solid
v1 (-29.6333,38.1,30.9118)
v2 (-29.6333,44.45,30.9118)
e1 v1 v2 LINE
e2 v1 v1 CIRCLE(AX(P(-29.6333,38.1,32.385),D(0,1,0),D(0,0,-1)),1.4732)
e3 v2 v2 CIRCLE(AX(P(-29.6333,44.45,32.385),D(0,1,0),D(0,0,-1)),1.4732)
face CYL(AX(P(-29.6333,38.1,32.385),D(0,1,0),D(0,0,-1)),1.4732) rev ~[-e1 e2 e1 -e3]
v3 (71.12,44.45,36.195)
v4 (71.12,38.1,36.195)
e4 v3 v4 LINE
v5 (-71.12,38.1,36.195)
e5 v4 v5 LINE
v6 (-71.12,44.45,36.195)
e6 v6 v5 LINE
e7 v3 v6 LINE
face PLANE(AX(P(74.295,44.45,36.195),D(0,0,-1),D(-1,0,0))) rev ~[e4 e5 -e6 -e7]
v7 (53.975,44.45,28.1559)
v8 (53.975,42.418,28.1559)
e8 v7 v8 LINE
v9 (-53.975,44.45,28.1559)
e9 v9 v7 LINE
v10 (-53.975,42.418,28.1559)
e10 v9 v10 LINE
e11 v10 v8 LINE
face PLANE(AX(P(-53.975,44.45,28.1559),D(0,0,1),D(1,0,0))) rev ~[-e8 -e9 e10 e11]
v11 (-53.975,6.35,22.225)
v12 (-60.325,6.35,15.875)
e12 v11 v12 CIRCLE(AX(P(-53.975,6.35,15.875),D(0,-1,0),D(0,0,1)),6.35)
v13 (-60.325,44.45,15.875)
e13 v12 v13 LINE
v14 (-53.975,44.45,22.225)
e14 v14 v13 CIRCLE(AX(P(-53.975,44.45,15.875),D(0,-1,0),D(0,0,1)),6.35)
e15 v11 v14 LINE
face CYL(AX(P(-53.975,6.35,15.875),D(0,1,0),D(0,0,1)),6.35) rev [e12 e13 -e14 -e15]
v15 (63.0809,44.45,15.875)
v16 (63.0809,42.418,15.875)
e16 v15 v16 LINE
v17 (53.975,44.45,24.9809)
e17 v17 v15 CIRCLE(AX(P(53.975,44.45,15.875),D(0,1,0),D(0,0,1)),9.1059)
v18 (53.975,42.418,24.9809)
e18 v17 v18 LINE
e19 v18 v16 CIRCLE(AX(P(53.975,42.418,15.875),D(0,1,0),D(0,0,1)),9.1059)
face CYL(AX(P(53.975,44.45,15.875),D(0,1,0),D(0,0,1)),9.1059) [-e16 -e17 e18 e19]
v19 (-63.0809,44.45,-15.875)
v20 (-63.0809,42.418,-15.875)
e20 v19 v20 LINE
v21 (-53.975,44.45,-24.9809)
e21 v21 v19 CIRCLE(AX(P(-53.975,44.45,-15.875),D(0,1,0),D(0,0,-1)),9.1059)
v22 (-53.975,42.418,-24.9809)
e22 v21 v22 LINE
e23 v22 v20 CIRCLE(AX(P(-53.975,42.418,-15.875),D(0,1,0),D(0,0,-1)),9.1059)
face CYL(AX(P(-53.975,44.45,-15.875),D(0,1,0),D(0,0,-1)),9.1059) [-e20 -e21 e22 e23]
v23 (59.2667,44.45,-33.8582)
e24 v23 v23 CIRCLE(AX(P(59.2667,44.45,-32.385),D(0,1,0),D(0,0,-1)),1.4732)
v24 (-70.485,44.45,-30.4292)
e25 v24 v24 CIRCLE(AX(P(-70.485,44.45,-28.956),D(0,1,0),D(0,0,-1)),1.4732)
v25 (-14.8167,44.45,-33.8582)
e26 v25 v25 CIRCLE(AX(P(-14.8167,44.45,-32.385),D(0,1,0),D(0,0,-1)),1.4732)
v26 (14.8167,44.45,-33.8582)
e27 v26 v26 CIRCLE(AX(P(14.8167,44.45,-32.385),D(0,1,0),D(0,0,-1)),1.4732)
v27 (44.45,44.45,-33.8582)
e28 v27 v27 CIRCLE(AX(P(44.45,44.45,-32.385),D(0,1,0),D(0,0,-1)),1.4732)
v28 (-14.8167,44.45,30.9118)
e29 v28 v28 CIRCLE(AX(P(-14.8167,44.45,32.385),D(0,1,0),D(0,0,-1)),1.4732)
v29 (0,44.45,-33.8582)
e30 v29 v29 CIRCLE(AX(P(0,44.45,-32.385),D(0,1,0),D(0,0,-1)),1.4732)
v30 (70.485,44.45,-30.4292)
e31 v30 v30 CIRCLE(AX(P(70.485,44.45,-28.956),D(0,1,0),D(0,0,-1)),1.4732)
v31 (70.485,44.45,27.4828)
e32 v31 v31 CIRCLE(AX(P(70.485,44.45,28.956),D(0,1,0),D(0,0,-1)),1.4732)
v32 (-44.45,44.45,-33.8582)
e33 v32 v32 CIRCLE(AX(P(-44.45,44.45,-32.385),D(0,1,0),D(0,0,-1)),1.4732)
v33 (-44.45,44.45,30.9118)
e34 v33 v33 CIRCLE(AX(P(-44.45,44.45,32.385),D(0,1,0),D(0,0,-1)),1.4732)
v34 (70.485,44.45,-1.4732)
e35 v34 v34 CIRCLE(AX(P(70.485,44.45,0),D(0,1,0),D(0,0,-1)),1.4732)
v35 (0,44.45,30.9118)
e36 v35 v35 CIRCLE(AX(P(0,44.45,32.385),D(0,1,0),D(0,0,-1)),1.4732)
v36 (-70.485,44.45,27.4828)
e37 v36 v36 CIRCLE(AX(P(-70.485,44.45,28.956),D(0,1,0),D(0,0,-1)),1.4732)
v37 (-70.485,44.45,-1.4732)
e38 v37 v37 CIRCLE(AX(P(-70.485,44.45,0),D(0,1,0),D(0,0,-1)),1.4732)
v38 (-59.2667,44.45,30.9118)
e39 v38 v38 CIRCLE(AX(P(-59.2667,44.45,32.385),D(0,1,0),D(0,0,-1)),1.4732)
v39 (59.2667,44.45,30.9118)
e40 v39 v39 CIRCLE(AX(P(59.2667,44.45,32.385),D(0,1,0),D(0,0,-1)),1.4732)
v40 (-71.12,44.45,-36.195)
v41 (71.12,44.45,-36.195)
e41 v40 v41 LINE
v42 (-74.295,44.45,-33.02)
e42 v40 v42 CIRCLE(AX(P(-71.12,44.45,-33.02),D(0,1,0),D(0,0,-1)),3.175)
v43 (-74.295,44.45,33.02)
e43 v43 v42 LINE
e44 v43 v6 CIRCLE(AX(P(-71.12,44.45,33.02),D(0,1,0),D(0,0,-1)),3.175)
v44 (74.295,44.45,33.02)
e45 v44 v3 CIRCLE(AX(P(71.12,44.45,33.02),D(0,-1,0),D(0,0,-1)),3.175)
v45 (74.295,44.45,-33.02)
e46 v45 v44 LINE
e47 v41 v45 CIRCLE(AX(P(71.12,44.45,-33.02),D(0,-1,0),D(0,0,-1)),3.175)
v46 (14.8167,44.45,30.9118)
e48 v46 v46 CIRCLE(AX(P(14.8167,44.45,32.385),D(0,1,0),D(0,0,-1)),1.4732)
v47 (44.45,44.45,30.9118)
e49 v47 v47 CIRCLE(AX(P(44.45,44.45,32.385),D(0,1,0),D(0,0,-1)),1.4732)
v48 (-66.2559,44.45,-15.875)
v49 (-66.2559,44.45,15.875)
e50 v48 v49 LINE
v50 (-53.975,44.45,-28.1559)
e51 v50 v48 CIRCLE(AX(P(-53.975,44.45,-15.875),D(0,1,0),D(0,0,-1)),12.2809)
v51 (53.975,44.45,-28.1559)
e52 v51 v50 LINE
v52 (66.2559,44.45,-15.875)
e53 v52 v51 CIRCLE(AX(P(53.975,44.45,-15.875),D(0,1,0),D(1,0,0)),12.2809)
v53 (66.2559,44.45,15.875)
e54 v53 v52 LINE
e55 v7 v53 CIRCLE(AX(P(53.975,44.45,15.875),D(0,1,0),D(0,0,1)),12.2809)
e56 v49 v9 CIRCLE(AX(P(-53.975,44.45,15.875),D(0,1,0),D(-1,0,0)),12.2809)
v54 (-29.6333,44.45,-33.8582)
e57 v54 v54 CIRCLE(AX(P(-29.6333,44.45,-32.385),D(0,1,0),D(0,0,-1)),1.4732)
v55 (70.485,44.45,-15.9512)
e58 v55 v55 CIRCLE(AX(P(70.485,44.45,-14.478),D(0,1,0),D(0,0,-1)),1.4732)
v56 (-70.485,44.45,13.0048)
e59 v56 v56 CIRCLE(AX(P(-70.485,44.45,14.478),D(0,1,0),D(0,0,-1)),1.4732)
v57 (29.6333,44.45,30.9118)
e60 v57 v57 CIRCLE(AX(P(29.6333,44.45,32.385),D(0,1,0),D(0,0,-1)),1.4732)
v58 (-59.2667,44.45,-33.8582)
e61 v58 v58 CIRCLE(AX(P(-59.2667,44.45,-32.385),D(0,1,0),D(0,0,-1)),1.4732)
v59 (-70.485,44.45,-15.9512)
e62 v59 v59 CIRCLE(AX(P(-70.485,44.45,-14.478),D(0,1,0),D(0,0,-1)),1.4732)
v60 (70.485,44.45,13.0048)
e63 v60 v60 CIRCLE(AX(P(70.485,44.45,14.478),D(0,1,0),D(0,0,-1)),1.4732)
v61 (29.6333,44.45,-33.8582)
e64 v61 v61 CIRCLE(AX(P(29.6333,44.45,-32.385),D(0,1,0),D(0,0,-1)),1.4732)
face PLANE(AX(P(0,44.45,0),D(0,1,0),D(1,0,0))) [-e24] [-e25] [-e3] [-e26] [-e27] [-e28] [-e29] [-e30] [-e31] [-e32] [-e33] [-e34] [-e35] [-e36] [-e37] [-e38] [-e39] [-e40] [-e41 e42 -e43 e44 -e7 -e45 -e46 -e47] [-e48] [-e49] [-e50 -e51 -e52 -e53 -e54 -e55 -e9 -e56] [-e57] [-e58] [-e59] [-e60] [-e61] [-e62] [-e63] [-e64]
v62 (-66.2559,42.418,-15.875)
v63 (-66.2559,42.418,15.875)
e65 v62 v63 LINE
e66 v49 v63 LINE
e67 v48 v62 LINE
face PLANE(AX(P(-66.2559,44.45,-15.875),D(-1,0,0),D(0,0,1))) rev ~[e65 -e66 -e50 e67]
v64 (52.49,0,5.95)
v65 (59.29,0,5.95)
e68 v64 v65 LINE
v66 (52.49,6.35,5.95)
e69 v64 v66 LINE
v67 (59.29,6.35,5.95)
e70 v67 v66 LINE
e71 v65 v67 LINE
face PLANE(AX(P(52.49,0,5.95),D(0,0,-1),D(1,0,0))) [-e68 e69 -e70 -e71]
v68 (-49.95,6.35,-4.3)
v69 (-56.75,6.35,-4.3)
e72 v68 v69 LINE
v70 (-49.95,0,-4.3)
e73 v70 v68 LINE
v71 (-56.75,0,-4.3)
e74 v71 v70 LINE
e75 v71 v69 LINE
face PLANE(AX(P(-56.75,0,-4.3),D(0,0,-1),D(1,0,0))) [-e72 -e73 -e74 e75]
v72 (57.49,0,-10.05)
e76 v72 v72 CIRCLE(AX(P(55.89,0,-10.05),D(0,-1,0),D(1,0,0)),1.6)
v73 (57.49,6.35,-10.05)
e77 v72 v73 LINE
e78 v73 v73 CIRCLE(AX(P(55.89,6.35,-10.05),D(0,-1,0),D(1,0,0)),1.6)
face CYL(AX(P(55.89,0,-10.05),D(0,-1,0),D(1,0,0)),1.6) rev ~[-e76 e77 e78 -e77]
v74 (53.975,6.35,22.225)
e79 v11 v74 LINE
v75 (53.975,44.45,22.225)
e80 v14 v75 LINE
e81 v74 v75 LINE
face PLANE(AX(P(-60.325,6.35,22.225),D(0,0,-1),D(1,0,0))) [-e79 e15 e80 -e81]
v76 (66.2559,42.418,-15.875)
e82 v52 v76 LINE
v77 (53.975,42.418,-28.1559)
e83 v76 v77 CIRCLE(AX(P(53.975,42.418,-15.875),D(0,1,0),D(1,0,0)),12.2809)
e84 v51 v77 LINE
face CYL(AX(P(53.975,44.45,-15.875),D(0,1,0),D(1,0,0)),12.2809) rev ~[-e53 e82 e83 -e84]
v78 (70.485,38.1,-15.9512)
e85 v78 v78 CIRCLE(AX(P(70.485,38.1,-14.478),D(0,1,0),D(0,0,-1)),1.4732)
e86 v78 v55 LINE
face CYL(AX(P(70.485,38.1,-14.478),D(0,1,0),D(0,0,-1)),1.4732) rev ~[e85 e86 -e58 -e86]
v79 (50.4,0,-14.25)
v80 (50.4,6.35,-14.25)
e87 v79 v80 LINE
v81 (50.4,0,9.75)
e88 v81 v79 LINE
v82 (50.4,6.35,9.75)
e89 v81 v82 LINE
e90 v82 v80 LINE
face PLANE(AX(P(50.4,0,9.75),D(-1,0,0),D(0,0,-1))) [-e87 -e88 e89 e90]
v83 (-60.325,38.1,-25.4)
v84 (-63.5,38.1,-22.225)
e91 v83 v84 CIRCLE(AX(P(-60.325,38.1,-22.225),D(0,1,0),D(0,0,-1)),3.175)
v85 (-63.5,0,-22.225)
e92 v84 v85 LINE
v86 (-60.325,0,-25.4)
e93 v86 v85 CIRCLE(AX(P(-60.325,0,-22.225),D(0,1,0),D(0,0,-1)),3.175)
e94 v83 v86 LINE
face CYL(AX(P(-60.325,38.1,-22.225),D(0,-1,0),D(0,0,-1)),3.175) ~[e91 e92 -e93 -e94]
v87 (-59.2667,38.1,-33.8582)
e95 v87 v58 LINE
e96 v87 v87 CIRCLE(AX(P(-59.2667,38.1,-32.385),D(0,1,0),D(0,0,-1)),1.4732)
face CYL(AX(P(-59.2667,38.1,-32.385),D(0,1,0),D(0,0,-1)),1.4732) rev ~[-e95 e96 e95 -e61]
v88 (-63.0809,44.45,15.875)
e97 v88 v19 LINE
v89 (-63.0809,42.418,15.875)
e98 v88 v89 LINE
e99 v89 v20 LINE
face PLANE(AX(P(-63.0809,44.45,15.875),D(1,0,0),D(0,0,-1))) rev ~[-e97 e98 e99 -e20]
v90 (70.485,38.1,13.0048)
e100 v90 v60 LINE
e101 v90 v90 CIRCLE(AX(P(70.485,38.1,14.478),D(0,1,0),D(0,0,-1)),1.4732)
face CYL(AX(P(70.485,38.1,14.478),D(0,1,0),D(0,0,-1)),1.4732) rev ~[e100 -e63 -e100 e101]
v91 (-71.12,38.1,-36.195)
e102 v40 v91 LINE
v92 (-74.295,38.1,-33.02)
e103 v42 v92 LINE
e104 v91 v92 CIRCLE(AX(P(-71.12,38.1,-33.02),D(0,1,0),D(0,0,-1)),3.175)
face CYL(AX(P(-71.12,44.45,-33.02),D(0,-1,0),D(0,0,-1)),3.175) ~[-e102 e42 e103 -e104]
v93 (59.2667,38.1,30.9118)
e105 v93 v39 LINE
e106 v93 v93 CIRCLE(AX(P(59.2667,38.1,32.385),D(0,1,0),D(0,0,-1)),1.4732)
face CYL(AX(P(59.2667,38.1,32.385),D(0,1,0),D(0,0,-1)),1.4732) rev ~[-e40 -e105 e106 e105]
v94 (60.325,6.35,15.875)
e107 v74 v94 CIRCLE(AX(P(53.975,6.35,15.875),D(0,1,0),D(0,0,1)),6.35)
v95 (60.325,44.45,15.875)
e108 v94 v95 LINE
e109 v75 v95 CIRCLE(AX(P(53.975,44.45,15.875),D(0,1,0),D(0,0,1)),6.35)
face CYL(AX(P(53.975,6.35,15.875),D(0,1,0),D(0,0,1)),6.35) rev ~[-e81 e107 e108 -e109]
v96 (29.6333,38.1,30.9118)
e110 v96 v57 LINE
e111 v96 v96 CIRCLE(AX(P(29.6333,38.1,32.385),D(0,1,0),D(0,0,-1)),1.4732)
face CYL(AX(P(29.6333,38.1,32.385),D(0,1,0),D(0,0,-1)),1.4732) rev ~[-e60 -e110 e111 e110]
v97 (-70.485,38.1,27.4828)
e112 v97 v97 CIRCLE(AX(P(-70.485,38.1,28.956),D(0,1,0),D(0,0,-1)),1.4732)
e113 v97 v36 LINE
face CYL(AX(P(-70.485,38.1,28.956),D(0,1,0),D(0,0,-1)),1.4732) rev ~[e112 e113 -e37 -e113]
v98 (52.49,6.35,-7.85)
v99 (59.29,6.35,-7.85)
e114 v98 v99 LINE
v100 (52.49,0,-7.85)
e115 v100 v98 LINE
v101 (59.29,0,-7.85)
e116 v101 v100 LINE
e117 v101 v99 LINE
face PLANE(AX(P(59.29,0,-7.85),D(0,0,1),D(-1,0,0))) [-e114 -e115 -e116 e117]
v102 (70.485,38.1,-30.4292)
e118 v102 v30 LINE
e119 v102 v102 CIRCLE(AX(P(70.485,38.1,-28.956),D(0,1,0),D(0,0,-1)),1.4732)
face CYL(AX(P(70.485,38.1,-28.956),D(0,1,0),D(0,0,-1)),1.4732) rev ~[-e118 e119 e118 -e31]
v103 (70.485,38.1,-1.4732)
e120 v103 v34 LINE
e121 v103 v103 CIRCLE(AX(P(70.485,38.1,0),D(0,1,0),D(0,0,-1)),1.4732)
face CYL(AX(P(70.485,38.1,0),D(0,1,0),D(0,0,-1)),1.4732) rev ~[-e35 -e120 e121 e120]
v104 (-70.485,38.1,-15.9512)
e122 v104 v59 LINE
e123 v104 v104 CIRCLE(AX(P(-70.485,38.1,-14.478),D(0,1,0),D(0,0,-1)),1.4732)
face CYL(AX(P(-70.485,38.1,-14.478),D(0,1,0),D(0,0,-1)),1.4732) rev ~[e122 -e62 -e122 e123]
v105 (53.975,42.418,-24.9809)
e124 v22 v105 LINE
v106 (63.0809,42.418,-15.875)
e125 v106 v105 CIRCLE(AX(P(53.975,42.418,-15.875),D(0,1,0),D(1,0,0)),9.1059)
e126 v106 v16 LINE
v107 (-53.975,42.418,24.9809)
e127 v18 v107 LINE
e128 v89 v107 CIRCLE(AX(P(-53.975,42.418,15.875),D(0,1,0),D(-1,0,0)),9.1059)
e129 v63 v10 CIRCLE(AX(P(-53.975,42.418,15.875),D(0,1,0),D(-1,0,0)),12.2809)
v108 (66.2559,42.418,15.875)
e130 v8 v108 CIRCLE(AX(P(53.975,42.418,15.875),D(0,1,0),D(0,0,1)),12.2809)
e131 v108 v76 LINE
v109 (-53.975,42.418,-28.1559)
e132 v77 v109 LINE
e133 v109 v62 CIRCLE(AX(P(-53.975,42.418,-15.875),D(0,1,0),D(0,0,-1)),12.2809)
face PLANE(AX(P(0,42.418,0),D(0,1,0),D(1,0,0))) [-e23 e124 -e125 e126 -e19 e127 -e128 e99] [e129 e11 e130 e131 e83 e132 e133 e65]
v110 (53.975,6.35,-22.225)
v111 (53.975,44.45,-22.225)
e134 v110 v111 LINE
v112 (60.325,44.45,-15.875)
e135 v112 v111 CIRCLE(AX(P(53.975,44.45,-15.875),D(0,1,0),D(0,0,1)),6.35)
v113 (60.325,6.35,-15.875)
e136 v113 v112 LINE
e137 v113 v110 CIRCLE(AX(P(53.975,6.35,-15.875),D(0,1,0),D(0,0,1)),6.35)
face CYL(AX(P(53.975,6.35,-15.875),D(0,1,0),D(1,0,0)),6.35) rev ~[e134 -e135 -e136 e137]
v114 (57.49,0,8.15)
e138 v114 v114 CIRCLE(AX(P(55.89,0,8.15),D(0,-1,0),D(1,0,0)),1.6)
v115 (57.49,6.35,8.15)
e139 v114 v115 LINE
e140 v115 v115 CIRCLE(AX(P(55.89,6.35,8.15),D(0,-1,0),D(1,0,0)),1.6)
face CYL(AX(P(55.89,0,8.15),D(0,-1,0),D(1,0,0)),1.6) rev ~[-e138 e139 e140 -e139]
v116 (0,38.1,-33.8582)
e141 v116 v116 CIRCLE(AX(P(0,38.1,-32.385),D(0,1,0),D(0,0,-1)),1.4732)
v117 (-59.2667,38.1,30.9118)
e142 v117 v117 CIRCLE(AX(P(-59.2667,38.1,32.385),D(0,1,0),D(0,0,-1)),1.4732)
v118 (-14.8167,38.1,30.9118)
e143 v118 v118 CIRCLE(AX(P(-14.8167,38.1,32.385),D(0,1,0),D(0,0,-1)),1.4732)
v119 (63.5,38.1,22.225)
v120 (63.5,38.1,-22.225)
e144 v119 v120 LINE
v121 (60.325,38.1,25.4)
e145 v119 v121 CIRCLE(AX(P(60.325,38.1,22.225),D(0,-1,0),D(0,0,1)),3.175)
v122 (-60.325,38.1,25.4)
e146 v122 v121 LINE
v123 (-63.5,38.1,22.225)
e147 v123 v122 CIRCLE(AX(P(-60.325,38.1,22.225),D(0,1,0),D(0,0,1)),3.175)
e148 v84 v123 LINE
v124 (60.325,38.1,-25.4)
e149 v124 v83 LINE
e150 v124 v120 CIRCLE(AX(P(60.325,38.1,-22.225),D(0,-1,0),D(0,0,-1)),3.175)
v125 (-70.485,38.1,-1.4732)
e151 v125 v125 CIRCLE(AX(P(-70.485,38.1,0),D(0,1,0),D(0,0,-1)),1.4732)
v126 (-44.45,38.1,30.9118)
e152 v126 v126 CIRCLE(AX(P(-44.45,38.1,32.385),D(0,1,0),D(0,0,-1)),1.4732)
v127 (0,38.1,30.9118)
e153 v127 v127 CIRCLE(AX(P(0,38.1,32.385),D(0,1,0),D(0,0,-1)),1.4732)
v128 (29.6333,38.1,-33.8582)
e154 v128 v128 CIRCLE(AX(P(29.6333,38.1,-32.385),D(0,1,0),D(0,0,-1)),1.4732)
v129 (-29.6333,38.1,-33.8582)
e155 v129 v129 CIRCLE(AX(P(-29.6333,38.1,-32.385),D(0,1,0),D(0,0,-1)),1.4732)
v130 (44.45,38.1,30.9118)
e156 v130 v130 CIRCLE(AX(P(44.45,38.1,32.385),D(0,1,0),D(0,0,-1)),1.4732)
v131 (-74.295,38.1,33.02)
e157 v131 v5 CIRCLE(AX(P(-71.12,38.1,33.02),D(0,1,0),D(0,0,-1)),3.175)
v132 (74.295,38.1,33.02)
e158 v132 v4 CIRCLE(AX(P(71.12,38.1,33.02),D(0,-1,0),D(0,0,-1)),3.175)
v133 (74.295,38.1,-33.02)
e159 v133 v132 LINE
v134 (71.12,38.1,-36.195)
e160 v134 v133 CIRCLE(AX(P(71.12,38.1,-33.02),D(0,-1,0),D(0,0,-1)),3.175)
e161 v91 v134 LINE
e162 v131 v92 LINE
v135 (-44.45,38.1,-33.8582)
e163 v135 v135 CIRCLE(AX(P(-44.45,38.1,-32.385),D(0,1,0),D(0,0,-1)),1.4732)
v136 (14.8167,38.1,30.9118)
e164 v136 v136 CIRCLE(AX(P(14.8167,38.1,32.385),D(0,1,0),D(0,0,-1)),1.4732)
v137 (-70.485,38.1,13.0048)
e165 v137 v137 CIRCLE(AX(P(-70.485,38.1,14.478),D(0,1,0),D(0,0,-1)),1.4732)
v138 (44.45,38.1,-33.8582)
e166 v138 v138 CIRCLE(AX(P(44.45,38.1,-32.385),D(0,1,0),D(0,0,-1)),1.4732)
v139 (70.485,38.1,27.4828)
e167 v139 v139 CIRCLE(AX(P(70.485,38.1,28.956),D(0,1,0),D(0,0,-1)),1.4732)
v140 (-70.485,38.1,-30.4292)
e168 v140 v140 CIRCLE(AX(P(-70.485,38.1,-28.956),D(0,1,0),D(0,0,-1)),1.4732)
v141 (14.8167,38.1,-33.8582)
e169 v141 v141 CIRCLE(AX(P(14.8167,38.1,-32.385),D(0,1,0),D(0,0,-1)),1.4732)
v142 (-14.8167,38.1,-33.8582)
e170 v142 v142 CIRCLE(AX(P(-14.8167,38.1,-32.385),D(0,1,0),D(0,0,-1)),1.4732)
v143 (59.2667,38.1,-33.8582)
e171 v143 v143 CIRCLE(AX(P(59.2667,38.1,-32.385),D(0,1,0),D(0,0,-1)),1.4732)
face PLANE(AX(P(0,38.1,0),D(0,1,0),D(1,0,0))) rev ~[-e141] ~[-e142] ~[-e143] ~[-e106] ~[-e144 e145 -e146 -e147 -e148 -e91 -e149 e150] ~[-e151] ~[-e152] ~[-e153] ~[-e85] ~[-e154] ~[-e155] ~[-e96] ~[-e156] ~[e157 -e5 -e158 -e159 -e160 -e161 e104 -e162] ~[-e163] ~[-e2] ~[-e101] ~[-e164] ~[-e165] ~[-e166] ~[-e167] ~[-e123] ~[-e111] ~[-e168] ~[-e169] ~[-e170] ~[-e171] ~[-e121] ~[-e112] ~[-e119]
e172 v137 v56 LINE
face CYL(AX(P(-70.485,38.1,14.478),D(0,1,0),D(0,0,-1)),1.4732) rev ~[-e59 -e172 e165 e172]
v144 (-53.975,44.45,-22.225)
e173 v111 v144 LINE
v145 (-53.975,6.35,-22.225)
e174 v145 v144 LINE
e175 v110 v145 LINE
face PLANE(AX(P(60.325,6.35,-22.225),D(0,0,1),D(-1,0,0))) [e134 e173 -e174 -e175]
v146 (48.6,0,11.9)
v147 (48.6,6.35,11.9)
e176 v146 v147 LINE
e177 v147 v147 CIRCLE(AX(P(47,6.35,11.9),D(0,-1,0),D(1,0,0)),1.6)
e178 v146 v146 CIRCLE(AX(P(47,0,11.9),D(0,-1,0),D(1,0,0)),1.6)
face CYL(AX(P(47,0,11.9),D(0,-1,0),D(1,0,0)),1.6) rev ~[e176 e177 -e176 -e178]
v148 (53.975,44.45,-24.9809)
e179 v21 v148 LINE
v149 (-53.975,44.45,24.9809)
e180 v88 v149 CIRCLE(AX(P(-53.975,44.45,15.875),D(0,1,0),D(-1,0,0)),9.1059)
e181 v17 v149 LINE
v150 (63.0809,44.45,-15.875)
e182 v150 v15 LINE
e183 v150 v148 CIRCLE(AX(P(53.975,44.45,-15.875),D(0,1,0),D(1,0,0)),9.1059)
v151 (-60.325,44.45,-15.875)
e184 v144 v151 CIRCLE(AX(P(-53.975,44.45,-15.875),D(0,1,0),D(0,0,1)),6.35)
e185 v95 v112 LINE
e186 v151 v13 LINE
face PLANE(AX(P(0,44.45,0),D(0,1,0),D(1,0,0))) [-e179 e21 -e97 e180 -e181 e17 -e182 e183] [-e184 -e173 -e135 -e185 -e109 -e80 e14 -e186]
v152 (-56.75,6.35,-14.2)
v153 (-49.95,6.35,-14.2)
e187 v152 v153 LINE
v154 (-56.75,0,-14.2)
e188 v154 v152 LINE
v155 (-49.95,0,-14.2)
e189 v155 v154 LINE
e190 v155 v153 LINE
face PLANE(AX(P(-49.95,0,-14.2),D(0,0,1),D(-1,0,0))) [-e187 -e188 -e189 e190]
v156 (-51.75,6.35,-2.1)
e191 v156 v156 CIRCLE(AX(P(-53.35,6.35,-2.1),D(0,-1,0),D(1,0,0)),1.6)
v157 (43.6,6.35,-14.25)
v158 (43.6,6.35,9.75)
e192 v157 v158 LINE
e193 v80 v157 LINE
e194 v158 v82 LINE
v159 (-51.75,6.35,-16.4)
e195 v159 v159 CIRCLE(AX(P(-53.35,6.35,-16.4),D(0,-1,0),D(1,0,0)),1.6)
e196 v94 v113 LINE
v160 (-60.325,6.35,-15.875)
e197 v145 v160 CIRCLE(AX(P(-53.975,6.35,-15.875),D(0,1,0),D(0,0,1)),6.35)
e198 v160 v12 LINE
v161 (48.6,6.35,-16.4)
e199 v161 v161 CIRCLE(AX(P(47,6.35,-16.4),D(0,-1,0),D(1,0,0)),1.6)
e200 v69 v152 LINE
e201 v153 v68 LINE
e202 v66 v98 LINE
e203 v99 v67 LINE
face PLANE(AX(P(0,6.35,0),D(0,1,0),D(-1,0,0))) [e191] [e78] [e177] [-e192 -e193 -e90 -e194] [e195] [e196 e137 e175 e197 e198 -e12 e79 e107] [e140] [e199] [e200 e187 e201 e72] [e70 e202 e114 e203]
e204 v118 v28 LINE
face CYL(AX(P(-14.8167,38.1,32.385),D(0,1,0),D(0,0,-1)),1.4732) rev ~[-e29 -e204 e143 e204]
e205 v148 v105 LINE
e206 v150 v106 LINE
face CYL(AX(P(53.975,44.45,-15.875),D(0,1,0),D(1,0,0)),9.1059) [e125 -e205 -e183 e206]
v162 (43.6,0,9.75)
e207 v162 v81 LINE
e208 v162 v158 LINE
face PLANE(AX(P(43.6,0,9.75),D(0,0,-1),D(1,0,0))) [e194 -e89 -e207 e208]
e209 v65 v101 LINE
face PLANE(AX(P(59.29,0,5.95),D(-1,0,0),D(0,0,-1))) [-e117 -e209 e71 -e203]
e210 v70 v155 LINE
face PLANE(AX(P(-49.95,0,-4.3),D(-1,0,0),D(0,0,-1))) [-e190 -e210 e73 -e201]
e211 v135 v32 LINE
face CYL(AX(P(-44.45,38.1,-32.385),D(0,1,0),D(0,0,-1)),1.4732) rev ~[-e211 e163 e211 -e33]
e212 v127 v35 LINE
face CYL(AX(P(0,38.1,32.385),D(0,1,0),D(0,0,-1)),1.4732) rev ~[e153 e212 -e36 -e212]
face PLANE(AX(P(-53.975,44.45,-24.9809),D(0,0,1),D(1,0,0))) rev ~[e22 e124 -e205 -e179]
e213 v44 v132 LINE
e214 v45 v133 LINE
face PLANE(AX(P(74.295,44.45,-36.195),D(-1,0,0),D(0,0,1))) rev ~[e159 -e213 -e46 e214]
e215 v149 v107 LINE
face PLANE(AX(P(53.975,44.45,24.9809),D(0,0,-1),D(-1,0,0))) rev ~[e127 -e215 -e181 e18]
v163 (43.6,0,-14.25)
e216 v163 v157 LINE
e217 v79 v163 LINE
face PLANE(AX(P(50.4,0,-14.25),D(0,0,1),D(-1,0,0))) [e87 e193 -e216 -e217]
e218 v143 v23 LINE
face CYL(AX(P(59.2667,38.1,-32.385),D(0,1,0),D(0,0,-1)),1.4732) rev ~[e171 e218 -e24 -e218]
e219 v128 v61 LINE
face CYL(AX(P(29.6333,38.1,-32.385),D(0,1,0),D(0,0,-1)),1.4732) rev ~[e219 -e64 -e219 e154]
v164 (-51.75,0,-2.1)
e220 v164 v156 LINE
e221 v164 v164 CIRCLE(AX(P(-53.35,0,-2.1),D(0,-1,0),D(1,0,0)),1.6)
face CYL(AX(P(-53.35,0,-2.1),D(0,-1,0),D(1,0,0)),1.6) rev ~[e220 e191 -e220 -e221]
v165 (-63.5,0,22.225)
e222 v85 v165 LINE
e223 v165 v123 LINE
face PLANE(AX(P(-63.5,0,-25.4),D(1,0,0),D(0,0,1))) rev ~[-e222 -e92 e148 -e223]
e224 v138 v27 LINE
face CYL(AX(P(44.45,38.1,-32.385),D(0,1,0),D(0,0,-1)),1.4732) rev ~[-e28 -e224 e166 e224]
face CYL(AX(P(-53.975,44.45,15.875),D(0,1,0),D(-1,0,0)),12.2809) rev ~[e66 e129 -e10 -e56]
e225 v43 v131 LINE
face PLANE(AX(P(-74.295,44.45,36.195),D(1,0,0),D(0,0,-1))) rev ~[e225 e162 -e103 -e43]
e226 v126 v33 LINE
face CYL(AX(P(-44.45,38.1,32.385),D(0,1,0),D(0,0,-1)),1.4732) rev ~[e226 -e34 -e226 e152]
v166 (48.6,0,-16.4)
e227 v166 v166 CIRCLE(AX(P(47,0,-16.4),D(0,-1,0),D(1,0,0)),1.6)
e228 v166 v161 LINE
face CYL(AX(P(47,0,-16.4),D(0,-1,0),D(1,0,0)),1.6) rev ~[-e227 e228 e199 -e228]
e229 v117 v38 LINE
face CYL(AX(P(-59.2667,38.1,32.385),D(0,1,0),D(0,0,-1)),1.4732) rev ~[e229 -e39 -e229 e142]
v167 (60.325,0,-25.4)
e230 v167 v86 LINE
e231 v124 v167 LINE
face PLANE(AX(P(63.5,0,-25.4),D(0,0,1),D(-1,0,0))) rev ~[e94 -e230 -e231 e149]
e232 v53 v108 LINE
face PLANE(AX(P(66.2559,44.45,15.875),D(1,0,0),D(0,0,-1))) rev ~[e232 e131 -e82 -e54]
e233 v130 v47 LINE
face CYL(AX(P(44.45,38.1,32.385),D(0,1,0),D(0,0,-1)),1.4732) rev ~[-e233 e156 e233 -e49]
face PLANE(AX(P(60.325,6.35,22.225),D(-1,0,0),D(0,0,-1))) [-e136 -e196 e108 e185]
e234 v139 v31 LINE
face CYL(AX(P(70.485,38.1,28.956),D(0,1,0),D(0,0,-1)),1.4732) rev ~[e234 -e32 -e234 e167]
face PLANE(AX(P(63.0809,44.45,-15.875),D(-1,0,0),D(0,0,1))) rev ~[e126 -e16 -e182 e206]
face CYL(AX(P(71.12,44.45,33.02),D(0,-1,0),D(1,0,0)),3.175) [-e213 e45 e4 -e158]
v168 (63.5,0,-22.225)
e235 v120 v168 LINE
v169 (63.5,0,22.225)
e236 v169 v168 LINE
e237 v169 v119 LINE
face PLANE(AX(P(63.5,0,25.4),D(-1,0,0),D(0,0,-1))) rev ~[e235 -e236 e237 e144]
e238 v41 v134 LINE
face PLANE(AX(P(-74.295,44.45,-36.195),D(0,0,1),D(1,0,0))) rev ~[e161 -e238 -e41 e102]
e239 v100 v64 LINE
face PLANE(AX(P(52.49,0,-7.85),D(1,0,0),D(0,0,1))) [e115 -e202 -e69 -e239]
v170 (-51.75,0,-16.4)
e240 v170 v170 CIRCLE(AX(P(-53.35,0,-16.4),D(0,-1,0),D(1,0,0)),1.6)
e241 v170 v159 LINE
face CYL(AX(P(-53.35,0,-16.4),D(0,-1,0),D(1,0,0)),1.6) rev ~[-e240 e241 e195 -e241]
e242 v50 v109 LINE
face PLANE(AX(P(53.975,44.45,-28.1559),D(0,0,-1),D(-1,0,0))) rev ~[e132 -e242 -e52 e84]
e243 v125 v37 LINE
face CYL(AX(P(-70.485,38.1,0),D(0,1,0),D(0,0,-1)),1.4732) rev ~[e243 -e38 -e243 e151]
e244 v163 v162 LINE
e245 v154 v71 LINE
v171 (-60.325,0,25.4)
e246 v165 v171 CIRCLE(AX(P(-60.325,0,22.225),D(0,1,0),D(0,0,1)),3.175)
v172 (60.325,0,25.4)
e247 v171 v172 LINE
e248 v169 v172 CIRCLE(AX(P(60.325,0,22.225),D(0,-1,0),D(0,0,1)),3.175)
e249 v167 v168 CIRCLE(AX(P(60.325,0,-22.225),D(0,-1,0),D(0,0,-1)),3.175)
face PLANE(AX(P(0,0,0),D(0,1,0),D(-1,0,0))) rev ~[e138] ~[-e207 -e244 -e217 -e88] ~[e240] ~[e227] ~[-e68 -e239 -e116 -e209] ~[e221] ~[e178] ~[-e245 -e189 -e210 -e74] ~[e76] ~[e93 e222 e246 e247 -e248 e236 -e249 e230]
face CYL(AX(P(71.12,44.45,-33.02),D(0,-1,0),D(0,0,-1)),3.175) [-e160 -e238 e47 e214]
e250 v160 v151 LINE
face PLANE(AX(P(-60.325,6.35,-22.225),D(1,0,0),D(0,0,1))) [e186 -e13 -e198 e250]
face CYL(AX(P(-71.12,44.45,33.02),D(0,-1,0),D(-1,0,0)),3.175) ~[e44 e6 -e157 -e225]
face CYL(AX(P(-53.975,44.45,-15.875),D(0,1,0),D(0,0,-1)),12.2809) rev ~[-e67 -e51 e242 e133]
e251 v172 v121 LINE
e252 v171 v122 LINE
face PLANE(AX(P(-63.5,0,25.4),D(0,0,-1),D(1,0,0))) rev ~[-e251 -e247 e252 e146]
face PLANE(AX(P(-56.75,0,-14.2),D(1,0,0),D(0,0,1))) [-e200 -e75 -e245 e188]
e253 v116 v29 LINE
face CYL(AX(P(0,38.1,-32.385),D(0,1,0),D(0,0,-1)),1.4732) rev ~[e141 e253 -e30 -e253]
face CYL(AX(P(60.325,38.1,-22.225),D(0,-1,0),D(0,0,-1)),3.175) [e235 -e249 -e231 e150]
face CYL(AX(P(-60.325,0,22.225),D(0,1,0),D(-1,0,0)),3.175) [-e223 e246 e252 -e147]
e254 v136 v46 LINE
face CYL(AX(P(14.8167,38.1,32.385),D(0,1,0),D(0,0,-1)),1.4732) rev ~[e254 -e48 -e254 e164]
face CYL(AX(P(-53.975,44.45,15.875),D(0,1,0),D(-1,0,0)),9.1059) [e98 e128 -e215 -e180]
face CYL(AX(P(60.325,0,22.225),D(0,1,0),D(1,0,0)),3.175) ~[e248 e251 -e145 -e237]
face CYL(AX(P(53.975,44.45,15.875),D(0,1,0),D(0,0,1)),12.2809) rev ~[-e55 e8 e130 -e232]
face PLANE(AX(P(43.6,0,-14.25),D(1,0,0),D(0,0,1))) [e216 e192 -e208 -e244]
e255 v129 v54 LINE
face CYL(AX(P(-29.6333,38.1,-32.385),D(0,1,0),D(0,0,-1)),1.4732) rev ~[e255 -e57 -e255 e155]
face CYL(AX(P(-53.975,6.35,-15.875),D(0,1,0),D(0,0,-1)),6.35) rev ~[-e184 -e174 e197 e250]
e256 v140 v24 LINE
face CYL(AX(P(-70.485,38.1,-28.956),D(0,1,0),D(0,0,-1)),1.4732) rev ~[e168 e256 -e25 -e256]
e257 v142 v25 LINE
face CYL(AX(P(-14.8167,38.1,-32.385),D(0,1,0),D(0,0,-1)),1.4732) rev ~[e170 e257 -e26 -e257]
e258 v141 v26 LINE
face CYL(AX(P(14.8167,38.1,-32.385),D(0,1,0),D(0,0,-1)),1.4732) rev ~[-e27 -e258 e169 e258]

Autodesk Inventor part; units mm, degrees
ref_plane "YZ Plane" through (0, 0, 0) normal (1, 0, 0) x (0, 1, 0)
ref_plane "XZ Plane" through (0, 0, 0) normal (0, 1, 0) x (-1, 0, 0)
ref_plane "XY Plane" through (0, 0, 0) normal (0, 0, 1) x (1, 0, 0)
sketch "Sketch1" plane through (0, 0, 0) normal (0, 1, 0) x (-1, 0, 0)
  line L0 (63.5, 25.4) -> (-63.5, 25.4)
  line L1 (-63.5, 25.4) -> (-63.5, -25.4)
  line L2 (-63.5, -25.4) -> (63.5, -25.4)
  line L3 (63.5, -25.4) -> (63.5, 25.4)
  point P0 (0, 0)
  dimension "d0" = 50.8
  dimension "d1" = 25.4
  dimension "d2" = 63.5
  dimension "d3" = 127
extrude "Extrusion1" add sketch "Sketch1" along normal blind 6.35
sketch "Sketch2" plane through (0, 6.35, 0) normal (0, 1, 0) x (1, 0, 0)
  line L0 (-60.325, -22.225) -> (60.325, -22.225)
  line L1 (60.325, -22.225) -> (60.325, 22.225)
  line L2 (60.325, 22.225) -> (-60.325, 22.225)
  line L3 (-60.325, 22.225) -> (-60.325, -22.225)
  line L4 (-63.5, -25.4) -> (63.5, -25.4) projected
  line L5 (63.5, -25.4) -> (63.5, 25.4) projected
  line L6 (63.5, 25.4) -> (-63.5, 25.4) projected
  line L7 (-63.5, 25.4) -> (-63.5, -25.4) projected
  point P0 (0, 0)
  dimension "d6" = 3.175
  dimension "d7" = 3.175
  dimension "d8" = 3.175
  dimension "d9" = 3.175
extrude "Extrusion2" add sketch "Sketch2" along normal blind 38.1
fillet "Fillet1" radius 6.35 4 edges at (-60.325, 25.4, -22.225) (60.325, 25.4, -22.225) (60.325, 25.4, 22.225) (-60.325, 25.4, 22.225)
sketch "Sketch4" plane through (63.5, 0, -25.4) normal (0, 0, -1) x (-1, 0, 0)
  line L0 (127, 0) -> (127, 44.45) projected
  line L1 (127, 44.45) -> (104.775, 44.45)
  line L2 (104.775, 44.45) -> (104.775, 38.1)
  line L3 (104.775, 38.1) -> (127, 38.1)
  line L4 (127, 38.1) -> (127, 44.45)
  line L5 (74.6125, 44.45) -> (52.3875, 44.45)
  line L6 (52.3875, 44.45) -> (52.3875, 38.1)
  line L7 (52.3875, 38.1) -> (74.6125, 38.1)
  line L8 (74.6125, 38.1) -> (74.6125, 44.45)
  line L9 (22.225, 44.45) -> (0, 44.45)
  line L10 (0, 44.45) -> (0, 38.1)
  line L11 (0, 38.1) -> (22.225, 38.1)
  line L12 (22.225, 38.1) -> (22.225, 44.45)
  point P0 (63.5, 0)
  dimension "d28" = 22.225
  dimension "d29" = 6.35
  dimension "d32" = 52.3875
extrude "Extrusion4" [suppressed]
sketch "Sketch5" plane through (-63.5, 0, -25.4) normal (-1, 0, 0) x (0, 0, 1)
  line L0 (-15.24, 38.1) -> (0, 22.86)
  line L1 (0, 0) -> (0, 44.45) projected
  line L2 (0, 44.45) -> (0, 38.1) projected
  line L3 (0, 22.86) -> (0, 38.1)
  line L4 (0, 38.1) -> (-15.24, 38.1)
  point P0 (25.4, 0)
  dimension "d39" = 15.24
extrude "Extrusion5" [suppressed]
pattern_linear "Rectangular Pattern1" [suppressed]
pattern_linear "Rectangular Pattern2" [suppressed]
sketch "Sketch6" plane through (-60.325, 38.1, -40.64) normal (0, -1, 0) x (1, 0, 0)
  line L0 (123.825, 15.24) -> (-3.175, 15.24) projected
  line L1 (15.875, 0) -> (0, 0) projected
  line L2 (15.875, 0) -> (15.875, 15.24) projected
  line L3 (0, 15.24) -> (0, 0) projected
  point P0 (60.325, 40.64)
  point P1 (7.9375, 7.62)
  point P2 (60.3377, 7.62)
  point P3 (112.7379, 7.62)
  dimension "d48" = 7.62
  dimension "d49" = 15.24
  dimension "d50" = 15.875
  dimension "d51" = 7.9375
  dimension "d54" = 52.4002
hole "Hole1" [suppressed]
fillet "Fillet2" [suppressed]
fillet "Fillet3" [suppressed]
mirror "Mirror1" [suppressed]
fillet "Fillet4" [suppressed]
sketch "Sketch13" plane through (0, 44.45, 0) normal (0, 1, 0) x (1, 0, 0)
  line L0 (-74.295, 36.195) -> (74.295, 36.195)
  line L1 (74.295, 36.195) -> (74.295, -36.195)
  line L2 (74.295, -36.195) -> (-74.295, -36.195)
  line L3 (-74.295, -36.195) -> (-74.295, 36.195)
  line L4 (63.5, 25.4) -> (-63.5, 25.4) projected
  line L5 (-63.5, 25.4) -> (-63.5, -25.4) projected
  line L6 (-63.5, -25.4) -> (63.5, -25.4) projected
  line L7 (63.5, -25.4) -> (63.5, 25.4) projected
  point P0 (0, 0)
  dimension "d81" = 10.795
  dimension "d82" = 10.795
  dimension "d83" = 10.795
  dimension "d84" = 10.795
extrude "Extrusion12" add sketch "Sketch13" against normal blind 6.35
fillet "Fillet6" radius 3.175 4 edges at (-74.295, 41.275, -36.195) (74.295, 41.275, -36.195) (74.295, 41.275, 36.195) (-74.295, 41.275, 36.195)
sketch "Sketch14" plane through (0, 38.1, 0) normal (0, -1, 0) x (1, 0, 0)
  line L0 (74.295, 36.195) -> (-74.295, 36.195) projected
  line L1 (66.675, 28.575) -> (-66.675, 28.575) projected
  line L2 (74.295, -36.195) -> (74.295, 36.195) projected
  line L3 (74.295, -36.195) -> (74.295, 36.195) projected
  line L4 (74.295, 0) -> (-74.2494, 0) construction
  line L5 (71.12, -36.195) -> (-71.12, -36.195)
  line L6 (66.675, -28.575) -> (66.675, 28.575) projected
  line L7 (-74.295, -36.195) -> (74.295, -36.195) projected
  line L8 (0, -36.195) -> (0, 36.195) construction
  point P0 (0, 0)
  point P1 (59.2667, 32.385)
  point P2 (71.12, 36.195)
  point P3 (-71.12, 36.195)
  point P4 (74.295, -33.02)
  point P5 (74.295, 33.02)
  point P6 (44.45, 32.385)
  point P7 (29.6333, 32.385)
  point P8 (14.8167, 32.385)
  point P9 (0, 32.385)
  point P10 (-14.8167, 32.385)
  point P11 (-29.6333, 32.385)
  point P12 (-44.45, 32.385)
  point P13 (-59.2667, 32.385)
  point P14 (59.2667, -32.385)
  point P15 (44.45, -32.385)
  point P16 (29.6333, -32.385)
  point P17 (14.8167, -32.385)
  point P18 (0, -32.385)
  point P19 (-14.8167, -32.385)
  point P20 (-29.6333, -32.385)
  point P21 (-44.45, -32.385)
  point P22 (-59.2667, -32.385)
  point P23 (70.485, -28.956)
  point P24 (70.485, -14.478)
  point P25 (70.485, 0)
  point P26 (70.485, 14.478)
  point P27 (70.485, 28.956)
  point P28 (-70.485, -28.956)
  point P29 (-70.485, -14.478)
  point P30 (-70.485, 0)
  point P31 (-70.485, 14.478)
  point P32 (-70.485, 28.956)
  dimension "d88" = 3.81
  dimension "d89" = 7.62
  dimension "d94" = 14.8167
  dimension "d99" = 118.5333
  dimension "d100" = 59.2667
  dimension "d101" = 7.62
  dimension "d102" = 3.81
  dimension "d103" = 7.239
  dimension "d106" = 14.478
  dimension "d128" = 57.912
  dimension "d129" = 28.956
hole "Hole2" at (59.2667, 38.1, 32.385) at (44.45, 38.1, 32.385) at (29.6333, 38.1, 32.385) at (14.8167, 38.1, 32.385) at (0, 38.1, 32.385) at (-14.8167, 38.1, 32.385) at (-29.6333, 38.1, 32.385) at (-44.45, 38.1, 32.385) at (-59.2667, 38.1, 32.385) at (-59.2667, 38.1, -32.385) at (-44.45, 38.1, -32.385) at (-29.6333, 38.1, -32.385) at (-14.8167, 38.1, -32.385) at (0, 38.1, -32.385) at (14.8167, 38.1, -32.385) at (29.6333, 38.1, -32.385) at (44.45, 38.1, -32.385) at (59.2667, 38.1, -32.385) at (70.485, 38.1, -28.956) at (70.485, 38.1, -14.478) at (70.485, 38.1, 0) at (70.485, 38.1, 14.478) at (70.485, 38.1, 28.956) at (-70.485, 38.1, 28.956) at (-70.485, 38.1, 14.478) at (-70.485, 38.1, 0) at (-70.485, 38.1, -14.478) at (-70.485, 38.1, -28.956) direction (0, 1, 0) diameter 2.9464 depth 25.4 tip angle 118
sketch "Sketch17" plane through (0, 0, 0) normal (0, -1, 0) x (1, 0, 0)
  line L0 (50.4, -14.25) -> (43.6, -14.25) projected
  line L1 (43.6, -14.25) -> (43.6, 9.75) projected
  line L2 (43.6, 9.75) -> (50.4, 9.75) projected
  line L3 (50.4, 9.75) -> (50.4, -14.25) projected
  point P0 (0, 0)
extrude "Extrusion14" cut sketch "Sketch17" against normal blind 6.35
sketch "Sketch18" plane through (0, 0, 0) normal (0, -1, 0) x (1, 0, 0)
  line L0 (59.29, -7.85) -> (52.49, -7.85) projected
  line L1 (52.49, -7.85) -> (52.49, 5.95) projected
  line L2 (52.49, 5.95) -> (59.29, 5.95) projected
  line L3 (59.29, 5.95) -> (59.29, -7.85) projected
  line L4 (-56.75, -4.3) -> (-49.95, -4.3) projected
  line L5 (-49.95, -4.3) -> (-49.95, -14.2) projected
  line L6 (-49.95, -14.2) -> (-56.75, -14.2) projected
  line L7 (-56.75, -14.2) -> (-56.75, -4.3) projected
  point P0 (0, 0)
extrude "Extrusion15" cut sketch "Sketch18" against normal through all
sketch "Sketch19" plane through (0, 0, 0) normal (0, -1, 0) x (1, 0, 0)
  circle A0 centre (55.89, 8.15) radius 1.6 projected
  circle A1 centre (55.89, -10.05) radius 1.6 projected
  circle A2 centre (-53.35, -2.1) radius 1.6 projected
  circle A3 centre (-53.35, -16.4) radius 1.6 projected
  circle A4 centre (47, -16.4) radius 1.6 projected
  circle A5 centre (47, 11.9) radius 1.6 projected
  point P0 (0, 0)
extrude "Extrusion16" cut sketch "Sketch19" against normal through all
sketch "Sketch20" plane through (0, 44.45, 0) normal (0, 1, 0) x (1, 0, 0)
  circle A0 centre (47, 16.4) radius 1.6 projected
  circle A1 centre (-53.35, 2.1) radius 1.6 projected
  circle A2 centre (55.89, -8.15) radius 1.6 projected
  circle A3 centre (55.89, 10.05) radius 1.6 projected
  circle A4 centre (-53.35, 16.4) radius 1.6 projected
  circle A5 centre (47, -11.9) radius 1.6 projected
  line L0 (-56.75, 4.3) -> (-56.75, 14.2) projected
  line L1 (-56.75, 14.2) -> (-49.95, 14.2) projected
  line L2 (-49.95, 14.2) -> (-49.95, 4.3) projected
  line L3 (-49.95, 4.3) -> (-56.75, 4.3) projected
  line L4 (59.29, 7.85) -> (59.29, -5.95) projected
  line L5 (59.29, -5.95) -> (52.49, -5.95) projected
  line L6 (52.49, -5.95) -> (52.49, 7.85) projected
  line L7 (52.49, 7.85) -> (59.29, 7.85) projected
  line L8 (50.4, 14.25) -> (50.4, -9.75) projected
  line L9 (50.4, -9.75) -> (43.6, -9.75) projected
  line L10 (43.6, -9.75) -> (43.6, 14.25) projected
  line L11 (43.6, 14.25) -> (50.4, 14.25) projected
  arc A6 (-60.325, -15.875) -> (-53.975, -22.225) centre (-53.975, -15.875) ccw projected
  line L12 (-53.975, -22.225) -> (53.975, -22.225) projected
  arc A7 (53.975, -22.225) -> (60.325, -15.875) centre (53.975, -15.875) ccw projected
  line L13 (60.325, -15.875) -> (60.325, 15.875) projected
  arc A8 (60.325, 15.875) -> (53.975, 22.225) centre (53.975, 15.875) ccw projected
  line L14 (53.975, 22.225) -> (-53.975, 22.225) projected
  arc A9 (-53.975, 22.225) -> (-60.325, 15.875) centre (-53.975, 15.875) ccw projected
  line L15 (-60.325, 15.875) -> (-60.325, -15.875) projected
  line L16 (-53.975, 24.9809) -> (53.975, 24.9809)
  arc A10 (63.0809, 15.875) -> (53.975, 24.9809) centre (53.975, 15.875) ccw
  line L17 (63.0809, 15.875) -> (63.0809, -15.875)
  arc A11 (53.975, -24.9809) -> (63.0809, -15.875) centre (53.975, -15.875) ccw
  line L18 (53.975, -24.9809) -> (-53.975, -24.9809)
  arc A12 (-63.0809, -15.875) -> (-53.975, -24.9809) centre (-53.975, -15.875) ccw
  line L19 (-63.0809, -15.875) -> (-63.0809, 15.875)
  arc A13 (-53.975, 24.9809) -> (-63.0809, 15.875) centre (-53.975, 15.875) ccw
  line L20 (53.975, 28.1559) -> (-53.975, 28.1559)
  arc A14 (-53.975, 28.1559) -> (-66.2559, 15.875) centre (-53.975, 15.875) ccw
  line L21 (-66.2559, 15.875) -> (-66.2559, -15.875)
  arc A15 (-66.2559, -15.875) -> (-53.975, -28.1559) centre (-53.975, -15.875) ccw
  line L22 (-53.975, -28.1559) -> (53.975, -28.1559)
  arc A16 (53.975, -28.1559) -> (66.2559, -15.875) centre (53.975, -15.875) ccw
  line L23 (66.2559, -15.875) -> (66.2559, 15.875)
  arc A17 (66.2559, 15.875) -> (53.975, 28.1559) centre (53.975, 15.875) ccw
  point P0 (0, 0)
  dimension "d130" = 2.7559
  dimension "d131" = 3.175
extrude "Extrusion18" cut sketch "Sketch20" against normal blind 2.032 contours A17 L23 A16 L22 A15 L21 A14 L20
fillet "Fillet7" radius 3.175 4 edges at (-63.5, 19.05, -25.4) (63.5, 19.05, -25.4) (63.5, 19.05, 25.4) (-63.5, 19.05, 25.4)
equation "\"d1\" = 0.5 * d0"
equation "\"d2\" = 0.5 * d3"
equation "\"d7\" = d6"
equation "\"d8\" = d6"
equation "\"d9\" = d6"
equation "\"d48\" = 0.5 * d49"
equation "\"d51\" = 0.5 * d50"
equation "\"d81\" = d83"
equation "\"d82\" = d83"
equation "\"d84\" = d83"
equation "\"d88\" = 0.5 * d89"
equation "\"d100\" = 0.5 * d99"
equation "\"d102\" = 0.5 * d101"
equation "\"d129\" = 0.5 * d128"
properties part number "Electronics Box" material "Aluminum 6061"
